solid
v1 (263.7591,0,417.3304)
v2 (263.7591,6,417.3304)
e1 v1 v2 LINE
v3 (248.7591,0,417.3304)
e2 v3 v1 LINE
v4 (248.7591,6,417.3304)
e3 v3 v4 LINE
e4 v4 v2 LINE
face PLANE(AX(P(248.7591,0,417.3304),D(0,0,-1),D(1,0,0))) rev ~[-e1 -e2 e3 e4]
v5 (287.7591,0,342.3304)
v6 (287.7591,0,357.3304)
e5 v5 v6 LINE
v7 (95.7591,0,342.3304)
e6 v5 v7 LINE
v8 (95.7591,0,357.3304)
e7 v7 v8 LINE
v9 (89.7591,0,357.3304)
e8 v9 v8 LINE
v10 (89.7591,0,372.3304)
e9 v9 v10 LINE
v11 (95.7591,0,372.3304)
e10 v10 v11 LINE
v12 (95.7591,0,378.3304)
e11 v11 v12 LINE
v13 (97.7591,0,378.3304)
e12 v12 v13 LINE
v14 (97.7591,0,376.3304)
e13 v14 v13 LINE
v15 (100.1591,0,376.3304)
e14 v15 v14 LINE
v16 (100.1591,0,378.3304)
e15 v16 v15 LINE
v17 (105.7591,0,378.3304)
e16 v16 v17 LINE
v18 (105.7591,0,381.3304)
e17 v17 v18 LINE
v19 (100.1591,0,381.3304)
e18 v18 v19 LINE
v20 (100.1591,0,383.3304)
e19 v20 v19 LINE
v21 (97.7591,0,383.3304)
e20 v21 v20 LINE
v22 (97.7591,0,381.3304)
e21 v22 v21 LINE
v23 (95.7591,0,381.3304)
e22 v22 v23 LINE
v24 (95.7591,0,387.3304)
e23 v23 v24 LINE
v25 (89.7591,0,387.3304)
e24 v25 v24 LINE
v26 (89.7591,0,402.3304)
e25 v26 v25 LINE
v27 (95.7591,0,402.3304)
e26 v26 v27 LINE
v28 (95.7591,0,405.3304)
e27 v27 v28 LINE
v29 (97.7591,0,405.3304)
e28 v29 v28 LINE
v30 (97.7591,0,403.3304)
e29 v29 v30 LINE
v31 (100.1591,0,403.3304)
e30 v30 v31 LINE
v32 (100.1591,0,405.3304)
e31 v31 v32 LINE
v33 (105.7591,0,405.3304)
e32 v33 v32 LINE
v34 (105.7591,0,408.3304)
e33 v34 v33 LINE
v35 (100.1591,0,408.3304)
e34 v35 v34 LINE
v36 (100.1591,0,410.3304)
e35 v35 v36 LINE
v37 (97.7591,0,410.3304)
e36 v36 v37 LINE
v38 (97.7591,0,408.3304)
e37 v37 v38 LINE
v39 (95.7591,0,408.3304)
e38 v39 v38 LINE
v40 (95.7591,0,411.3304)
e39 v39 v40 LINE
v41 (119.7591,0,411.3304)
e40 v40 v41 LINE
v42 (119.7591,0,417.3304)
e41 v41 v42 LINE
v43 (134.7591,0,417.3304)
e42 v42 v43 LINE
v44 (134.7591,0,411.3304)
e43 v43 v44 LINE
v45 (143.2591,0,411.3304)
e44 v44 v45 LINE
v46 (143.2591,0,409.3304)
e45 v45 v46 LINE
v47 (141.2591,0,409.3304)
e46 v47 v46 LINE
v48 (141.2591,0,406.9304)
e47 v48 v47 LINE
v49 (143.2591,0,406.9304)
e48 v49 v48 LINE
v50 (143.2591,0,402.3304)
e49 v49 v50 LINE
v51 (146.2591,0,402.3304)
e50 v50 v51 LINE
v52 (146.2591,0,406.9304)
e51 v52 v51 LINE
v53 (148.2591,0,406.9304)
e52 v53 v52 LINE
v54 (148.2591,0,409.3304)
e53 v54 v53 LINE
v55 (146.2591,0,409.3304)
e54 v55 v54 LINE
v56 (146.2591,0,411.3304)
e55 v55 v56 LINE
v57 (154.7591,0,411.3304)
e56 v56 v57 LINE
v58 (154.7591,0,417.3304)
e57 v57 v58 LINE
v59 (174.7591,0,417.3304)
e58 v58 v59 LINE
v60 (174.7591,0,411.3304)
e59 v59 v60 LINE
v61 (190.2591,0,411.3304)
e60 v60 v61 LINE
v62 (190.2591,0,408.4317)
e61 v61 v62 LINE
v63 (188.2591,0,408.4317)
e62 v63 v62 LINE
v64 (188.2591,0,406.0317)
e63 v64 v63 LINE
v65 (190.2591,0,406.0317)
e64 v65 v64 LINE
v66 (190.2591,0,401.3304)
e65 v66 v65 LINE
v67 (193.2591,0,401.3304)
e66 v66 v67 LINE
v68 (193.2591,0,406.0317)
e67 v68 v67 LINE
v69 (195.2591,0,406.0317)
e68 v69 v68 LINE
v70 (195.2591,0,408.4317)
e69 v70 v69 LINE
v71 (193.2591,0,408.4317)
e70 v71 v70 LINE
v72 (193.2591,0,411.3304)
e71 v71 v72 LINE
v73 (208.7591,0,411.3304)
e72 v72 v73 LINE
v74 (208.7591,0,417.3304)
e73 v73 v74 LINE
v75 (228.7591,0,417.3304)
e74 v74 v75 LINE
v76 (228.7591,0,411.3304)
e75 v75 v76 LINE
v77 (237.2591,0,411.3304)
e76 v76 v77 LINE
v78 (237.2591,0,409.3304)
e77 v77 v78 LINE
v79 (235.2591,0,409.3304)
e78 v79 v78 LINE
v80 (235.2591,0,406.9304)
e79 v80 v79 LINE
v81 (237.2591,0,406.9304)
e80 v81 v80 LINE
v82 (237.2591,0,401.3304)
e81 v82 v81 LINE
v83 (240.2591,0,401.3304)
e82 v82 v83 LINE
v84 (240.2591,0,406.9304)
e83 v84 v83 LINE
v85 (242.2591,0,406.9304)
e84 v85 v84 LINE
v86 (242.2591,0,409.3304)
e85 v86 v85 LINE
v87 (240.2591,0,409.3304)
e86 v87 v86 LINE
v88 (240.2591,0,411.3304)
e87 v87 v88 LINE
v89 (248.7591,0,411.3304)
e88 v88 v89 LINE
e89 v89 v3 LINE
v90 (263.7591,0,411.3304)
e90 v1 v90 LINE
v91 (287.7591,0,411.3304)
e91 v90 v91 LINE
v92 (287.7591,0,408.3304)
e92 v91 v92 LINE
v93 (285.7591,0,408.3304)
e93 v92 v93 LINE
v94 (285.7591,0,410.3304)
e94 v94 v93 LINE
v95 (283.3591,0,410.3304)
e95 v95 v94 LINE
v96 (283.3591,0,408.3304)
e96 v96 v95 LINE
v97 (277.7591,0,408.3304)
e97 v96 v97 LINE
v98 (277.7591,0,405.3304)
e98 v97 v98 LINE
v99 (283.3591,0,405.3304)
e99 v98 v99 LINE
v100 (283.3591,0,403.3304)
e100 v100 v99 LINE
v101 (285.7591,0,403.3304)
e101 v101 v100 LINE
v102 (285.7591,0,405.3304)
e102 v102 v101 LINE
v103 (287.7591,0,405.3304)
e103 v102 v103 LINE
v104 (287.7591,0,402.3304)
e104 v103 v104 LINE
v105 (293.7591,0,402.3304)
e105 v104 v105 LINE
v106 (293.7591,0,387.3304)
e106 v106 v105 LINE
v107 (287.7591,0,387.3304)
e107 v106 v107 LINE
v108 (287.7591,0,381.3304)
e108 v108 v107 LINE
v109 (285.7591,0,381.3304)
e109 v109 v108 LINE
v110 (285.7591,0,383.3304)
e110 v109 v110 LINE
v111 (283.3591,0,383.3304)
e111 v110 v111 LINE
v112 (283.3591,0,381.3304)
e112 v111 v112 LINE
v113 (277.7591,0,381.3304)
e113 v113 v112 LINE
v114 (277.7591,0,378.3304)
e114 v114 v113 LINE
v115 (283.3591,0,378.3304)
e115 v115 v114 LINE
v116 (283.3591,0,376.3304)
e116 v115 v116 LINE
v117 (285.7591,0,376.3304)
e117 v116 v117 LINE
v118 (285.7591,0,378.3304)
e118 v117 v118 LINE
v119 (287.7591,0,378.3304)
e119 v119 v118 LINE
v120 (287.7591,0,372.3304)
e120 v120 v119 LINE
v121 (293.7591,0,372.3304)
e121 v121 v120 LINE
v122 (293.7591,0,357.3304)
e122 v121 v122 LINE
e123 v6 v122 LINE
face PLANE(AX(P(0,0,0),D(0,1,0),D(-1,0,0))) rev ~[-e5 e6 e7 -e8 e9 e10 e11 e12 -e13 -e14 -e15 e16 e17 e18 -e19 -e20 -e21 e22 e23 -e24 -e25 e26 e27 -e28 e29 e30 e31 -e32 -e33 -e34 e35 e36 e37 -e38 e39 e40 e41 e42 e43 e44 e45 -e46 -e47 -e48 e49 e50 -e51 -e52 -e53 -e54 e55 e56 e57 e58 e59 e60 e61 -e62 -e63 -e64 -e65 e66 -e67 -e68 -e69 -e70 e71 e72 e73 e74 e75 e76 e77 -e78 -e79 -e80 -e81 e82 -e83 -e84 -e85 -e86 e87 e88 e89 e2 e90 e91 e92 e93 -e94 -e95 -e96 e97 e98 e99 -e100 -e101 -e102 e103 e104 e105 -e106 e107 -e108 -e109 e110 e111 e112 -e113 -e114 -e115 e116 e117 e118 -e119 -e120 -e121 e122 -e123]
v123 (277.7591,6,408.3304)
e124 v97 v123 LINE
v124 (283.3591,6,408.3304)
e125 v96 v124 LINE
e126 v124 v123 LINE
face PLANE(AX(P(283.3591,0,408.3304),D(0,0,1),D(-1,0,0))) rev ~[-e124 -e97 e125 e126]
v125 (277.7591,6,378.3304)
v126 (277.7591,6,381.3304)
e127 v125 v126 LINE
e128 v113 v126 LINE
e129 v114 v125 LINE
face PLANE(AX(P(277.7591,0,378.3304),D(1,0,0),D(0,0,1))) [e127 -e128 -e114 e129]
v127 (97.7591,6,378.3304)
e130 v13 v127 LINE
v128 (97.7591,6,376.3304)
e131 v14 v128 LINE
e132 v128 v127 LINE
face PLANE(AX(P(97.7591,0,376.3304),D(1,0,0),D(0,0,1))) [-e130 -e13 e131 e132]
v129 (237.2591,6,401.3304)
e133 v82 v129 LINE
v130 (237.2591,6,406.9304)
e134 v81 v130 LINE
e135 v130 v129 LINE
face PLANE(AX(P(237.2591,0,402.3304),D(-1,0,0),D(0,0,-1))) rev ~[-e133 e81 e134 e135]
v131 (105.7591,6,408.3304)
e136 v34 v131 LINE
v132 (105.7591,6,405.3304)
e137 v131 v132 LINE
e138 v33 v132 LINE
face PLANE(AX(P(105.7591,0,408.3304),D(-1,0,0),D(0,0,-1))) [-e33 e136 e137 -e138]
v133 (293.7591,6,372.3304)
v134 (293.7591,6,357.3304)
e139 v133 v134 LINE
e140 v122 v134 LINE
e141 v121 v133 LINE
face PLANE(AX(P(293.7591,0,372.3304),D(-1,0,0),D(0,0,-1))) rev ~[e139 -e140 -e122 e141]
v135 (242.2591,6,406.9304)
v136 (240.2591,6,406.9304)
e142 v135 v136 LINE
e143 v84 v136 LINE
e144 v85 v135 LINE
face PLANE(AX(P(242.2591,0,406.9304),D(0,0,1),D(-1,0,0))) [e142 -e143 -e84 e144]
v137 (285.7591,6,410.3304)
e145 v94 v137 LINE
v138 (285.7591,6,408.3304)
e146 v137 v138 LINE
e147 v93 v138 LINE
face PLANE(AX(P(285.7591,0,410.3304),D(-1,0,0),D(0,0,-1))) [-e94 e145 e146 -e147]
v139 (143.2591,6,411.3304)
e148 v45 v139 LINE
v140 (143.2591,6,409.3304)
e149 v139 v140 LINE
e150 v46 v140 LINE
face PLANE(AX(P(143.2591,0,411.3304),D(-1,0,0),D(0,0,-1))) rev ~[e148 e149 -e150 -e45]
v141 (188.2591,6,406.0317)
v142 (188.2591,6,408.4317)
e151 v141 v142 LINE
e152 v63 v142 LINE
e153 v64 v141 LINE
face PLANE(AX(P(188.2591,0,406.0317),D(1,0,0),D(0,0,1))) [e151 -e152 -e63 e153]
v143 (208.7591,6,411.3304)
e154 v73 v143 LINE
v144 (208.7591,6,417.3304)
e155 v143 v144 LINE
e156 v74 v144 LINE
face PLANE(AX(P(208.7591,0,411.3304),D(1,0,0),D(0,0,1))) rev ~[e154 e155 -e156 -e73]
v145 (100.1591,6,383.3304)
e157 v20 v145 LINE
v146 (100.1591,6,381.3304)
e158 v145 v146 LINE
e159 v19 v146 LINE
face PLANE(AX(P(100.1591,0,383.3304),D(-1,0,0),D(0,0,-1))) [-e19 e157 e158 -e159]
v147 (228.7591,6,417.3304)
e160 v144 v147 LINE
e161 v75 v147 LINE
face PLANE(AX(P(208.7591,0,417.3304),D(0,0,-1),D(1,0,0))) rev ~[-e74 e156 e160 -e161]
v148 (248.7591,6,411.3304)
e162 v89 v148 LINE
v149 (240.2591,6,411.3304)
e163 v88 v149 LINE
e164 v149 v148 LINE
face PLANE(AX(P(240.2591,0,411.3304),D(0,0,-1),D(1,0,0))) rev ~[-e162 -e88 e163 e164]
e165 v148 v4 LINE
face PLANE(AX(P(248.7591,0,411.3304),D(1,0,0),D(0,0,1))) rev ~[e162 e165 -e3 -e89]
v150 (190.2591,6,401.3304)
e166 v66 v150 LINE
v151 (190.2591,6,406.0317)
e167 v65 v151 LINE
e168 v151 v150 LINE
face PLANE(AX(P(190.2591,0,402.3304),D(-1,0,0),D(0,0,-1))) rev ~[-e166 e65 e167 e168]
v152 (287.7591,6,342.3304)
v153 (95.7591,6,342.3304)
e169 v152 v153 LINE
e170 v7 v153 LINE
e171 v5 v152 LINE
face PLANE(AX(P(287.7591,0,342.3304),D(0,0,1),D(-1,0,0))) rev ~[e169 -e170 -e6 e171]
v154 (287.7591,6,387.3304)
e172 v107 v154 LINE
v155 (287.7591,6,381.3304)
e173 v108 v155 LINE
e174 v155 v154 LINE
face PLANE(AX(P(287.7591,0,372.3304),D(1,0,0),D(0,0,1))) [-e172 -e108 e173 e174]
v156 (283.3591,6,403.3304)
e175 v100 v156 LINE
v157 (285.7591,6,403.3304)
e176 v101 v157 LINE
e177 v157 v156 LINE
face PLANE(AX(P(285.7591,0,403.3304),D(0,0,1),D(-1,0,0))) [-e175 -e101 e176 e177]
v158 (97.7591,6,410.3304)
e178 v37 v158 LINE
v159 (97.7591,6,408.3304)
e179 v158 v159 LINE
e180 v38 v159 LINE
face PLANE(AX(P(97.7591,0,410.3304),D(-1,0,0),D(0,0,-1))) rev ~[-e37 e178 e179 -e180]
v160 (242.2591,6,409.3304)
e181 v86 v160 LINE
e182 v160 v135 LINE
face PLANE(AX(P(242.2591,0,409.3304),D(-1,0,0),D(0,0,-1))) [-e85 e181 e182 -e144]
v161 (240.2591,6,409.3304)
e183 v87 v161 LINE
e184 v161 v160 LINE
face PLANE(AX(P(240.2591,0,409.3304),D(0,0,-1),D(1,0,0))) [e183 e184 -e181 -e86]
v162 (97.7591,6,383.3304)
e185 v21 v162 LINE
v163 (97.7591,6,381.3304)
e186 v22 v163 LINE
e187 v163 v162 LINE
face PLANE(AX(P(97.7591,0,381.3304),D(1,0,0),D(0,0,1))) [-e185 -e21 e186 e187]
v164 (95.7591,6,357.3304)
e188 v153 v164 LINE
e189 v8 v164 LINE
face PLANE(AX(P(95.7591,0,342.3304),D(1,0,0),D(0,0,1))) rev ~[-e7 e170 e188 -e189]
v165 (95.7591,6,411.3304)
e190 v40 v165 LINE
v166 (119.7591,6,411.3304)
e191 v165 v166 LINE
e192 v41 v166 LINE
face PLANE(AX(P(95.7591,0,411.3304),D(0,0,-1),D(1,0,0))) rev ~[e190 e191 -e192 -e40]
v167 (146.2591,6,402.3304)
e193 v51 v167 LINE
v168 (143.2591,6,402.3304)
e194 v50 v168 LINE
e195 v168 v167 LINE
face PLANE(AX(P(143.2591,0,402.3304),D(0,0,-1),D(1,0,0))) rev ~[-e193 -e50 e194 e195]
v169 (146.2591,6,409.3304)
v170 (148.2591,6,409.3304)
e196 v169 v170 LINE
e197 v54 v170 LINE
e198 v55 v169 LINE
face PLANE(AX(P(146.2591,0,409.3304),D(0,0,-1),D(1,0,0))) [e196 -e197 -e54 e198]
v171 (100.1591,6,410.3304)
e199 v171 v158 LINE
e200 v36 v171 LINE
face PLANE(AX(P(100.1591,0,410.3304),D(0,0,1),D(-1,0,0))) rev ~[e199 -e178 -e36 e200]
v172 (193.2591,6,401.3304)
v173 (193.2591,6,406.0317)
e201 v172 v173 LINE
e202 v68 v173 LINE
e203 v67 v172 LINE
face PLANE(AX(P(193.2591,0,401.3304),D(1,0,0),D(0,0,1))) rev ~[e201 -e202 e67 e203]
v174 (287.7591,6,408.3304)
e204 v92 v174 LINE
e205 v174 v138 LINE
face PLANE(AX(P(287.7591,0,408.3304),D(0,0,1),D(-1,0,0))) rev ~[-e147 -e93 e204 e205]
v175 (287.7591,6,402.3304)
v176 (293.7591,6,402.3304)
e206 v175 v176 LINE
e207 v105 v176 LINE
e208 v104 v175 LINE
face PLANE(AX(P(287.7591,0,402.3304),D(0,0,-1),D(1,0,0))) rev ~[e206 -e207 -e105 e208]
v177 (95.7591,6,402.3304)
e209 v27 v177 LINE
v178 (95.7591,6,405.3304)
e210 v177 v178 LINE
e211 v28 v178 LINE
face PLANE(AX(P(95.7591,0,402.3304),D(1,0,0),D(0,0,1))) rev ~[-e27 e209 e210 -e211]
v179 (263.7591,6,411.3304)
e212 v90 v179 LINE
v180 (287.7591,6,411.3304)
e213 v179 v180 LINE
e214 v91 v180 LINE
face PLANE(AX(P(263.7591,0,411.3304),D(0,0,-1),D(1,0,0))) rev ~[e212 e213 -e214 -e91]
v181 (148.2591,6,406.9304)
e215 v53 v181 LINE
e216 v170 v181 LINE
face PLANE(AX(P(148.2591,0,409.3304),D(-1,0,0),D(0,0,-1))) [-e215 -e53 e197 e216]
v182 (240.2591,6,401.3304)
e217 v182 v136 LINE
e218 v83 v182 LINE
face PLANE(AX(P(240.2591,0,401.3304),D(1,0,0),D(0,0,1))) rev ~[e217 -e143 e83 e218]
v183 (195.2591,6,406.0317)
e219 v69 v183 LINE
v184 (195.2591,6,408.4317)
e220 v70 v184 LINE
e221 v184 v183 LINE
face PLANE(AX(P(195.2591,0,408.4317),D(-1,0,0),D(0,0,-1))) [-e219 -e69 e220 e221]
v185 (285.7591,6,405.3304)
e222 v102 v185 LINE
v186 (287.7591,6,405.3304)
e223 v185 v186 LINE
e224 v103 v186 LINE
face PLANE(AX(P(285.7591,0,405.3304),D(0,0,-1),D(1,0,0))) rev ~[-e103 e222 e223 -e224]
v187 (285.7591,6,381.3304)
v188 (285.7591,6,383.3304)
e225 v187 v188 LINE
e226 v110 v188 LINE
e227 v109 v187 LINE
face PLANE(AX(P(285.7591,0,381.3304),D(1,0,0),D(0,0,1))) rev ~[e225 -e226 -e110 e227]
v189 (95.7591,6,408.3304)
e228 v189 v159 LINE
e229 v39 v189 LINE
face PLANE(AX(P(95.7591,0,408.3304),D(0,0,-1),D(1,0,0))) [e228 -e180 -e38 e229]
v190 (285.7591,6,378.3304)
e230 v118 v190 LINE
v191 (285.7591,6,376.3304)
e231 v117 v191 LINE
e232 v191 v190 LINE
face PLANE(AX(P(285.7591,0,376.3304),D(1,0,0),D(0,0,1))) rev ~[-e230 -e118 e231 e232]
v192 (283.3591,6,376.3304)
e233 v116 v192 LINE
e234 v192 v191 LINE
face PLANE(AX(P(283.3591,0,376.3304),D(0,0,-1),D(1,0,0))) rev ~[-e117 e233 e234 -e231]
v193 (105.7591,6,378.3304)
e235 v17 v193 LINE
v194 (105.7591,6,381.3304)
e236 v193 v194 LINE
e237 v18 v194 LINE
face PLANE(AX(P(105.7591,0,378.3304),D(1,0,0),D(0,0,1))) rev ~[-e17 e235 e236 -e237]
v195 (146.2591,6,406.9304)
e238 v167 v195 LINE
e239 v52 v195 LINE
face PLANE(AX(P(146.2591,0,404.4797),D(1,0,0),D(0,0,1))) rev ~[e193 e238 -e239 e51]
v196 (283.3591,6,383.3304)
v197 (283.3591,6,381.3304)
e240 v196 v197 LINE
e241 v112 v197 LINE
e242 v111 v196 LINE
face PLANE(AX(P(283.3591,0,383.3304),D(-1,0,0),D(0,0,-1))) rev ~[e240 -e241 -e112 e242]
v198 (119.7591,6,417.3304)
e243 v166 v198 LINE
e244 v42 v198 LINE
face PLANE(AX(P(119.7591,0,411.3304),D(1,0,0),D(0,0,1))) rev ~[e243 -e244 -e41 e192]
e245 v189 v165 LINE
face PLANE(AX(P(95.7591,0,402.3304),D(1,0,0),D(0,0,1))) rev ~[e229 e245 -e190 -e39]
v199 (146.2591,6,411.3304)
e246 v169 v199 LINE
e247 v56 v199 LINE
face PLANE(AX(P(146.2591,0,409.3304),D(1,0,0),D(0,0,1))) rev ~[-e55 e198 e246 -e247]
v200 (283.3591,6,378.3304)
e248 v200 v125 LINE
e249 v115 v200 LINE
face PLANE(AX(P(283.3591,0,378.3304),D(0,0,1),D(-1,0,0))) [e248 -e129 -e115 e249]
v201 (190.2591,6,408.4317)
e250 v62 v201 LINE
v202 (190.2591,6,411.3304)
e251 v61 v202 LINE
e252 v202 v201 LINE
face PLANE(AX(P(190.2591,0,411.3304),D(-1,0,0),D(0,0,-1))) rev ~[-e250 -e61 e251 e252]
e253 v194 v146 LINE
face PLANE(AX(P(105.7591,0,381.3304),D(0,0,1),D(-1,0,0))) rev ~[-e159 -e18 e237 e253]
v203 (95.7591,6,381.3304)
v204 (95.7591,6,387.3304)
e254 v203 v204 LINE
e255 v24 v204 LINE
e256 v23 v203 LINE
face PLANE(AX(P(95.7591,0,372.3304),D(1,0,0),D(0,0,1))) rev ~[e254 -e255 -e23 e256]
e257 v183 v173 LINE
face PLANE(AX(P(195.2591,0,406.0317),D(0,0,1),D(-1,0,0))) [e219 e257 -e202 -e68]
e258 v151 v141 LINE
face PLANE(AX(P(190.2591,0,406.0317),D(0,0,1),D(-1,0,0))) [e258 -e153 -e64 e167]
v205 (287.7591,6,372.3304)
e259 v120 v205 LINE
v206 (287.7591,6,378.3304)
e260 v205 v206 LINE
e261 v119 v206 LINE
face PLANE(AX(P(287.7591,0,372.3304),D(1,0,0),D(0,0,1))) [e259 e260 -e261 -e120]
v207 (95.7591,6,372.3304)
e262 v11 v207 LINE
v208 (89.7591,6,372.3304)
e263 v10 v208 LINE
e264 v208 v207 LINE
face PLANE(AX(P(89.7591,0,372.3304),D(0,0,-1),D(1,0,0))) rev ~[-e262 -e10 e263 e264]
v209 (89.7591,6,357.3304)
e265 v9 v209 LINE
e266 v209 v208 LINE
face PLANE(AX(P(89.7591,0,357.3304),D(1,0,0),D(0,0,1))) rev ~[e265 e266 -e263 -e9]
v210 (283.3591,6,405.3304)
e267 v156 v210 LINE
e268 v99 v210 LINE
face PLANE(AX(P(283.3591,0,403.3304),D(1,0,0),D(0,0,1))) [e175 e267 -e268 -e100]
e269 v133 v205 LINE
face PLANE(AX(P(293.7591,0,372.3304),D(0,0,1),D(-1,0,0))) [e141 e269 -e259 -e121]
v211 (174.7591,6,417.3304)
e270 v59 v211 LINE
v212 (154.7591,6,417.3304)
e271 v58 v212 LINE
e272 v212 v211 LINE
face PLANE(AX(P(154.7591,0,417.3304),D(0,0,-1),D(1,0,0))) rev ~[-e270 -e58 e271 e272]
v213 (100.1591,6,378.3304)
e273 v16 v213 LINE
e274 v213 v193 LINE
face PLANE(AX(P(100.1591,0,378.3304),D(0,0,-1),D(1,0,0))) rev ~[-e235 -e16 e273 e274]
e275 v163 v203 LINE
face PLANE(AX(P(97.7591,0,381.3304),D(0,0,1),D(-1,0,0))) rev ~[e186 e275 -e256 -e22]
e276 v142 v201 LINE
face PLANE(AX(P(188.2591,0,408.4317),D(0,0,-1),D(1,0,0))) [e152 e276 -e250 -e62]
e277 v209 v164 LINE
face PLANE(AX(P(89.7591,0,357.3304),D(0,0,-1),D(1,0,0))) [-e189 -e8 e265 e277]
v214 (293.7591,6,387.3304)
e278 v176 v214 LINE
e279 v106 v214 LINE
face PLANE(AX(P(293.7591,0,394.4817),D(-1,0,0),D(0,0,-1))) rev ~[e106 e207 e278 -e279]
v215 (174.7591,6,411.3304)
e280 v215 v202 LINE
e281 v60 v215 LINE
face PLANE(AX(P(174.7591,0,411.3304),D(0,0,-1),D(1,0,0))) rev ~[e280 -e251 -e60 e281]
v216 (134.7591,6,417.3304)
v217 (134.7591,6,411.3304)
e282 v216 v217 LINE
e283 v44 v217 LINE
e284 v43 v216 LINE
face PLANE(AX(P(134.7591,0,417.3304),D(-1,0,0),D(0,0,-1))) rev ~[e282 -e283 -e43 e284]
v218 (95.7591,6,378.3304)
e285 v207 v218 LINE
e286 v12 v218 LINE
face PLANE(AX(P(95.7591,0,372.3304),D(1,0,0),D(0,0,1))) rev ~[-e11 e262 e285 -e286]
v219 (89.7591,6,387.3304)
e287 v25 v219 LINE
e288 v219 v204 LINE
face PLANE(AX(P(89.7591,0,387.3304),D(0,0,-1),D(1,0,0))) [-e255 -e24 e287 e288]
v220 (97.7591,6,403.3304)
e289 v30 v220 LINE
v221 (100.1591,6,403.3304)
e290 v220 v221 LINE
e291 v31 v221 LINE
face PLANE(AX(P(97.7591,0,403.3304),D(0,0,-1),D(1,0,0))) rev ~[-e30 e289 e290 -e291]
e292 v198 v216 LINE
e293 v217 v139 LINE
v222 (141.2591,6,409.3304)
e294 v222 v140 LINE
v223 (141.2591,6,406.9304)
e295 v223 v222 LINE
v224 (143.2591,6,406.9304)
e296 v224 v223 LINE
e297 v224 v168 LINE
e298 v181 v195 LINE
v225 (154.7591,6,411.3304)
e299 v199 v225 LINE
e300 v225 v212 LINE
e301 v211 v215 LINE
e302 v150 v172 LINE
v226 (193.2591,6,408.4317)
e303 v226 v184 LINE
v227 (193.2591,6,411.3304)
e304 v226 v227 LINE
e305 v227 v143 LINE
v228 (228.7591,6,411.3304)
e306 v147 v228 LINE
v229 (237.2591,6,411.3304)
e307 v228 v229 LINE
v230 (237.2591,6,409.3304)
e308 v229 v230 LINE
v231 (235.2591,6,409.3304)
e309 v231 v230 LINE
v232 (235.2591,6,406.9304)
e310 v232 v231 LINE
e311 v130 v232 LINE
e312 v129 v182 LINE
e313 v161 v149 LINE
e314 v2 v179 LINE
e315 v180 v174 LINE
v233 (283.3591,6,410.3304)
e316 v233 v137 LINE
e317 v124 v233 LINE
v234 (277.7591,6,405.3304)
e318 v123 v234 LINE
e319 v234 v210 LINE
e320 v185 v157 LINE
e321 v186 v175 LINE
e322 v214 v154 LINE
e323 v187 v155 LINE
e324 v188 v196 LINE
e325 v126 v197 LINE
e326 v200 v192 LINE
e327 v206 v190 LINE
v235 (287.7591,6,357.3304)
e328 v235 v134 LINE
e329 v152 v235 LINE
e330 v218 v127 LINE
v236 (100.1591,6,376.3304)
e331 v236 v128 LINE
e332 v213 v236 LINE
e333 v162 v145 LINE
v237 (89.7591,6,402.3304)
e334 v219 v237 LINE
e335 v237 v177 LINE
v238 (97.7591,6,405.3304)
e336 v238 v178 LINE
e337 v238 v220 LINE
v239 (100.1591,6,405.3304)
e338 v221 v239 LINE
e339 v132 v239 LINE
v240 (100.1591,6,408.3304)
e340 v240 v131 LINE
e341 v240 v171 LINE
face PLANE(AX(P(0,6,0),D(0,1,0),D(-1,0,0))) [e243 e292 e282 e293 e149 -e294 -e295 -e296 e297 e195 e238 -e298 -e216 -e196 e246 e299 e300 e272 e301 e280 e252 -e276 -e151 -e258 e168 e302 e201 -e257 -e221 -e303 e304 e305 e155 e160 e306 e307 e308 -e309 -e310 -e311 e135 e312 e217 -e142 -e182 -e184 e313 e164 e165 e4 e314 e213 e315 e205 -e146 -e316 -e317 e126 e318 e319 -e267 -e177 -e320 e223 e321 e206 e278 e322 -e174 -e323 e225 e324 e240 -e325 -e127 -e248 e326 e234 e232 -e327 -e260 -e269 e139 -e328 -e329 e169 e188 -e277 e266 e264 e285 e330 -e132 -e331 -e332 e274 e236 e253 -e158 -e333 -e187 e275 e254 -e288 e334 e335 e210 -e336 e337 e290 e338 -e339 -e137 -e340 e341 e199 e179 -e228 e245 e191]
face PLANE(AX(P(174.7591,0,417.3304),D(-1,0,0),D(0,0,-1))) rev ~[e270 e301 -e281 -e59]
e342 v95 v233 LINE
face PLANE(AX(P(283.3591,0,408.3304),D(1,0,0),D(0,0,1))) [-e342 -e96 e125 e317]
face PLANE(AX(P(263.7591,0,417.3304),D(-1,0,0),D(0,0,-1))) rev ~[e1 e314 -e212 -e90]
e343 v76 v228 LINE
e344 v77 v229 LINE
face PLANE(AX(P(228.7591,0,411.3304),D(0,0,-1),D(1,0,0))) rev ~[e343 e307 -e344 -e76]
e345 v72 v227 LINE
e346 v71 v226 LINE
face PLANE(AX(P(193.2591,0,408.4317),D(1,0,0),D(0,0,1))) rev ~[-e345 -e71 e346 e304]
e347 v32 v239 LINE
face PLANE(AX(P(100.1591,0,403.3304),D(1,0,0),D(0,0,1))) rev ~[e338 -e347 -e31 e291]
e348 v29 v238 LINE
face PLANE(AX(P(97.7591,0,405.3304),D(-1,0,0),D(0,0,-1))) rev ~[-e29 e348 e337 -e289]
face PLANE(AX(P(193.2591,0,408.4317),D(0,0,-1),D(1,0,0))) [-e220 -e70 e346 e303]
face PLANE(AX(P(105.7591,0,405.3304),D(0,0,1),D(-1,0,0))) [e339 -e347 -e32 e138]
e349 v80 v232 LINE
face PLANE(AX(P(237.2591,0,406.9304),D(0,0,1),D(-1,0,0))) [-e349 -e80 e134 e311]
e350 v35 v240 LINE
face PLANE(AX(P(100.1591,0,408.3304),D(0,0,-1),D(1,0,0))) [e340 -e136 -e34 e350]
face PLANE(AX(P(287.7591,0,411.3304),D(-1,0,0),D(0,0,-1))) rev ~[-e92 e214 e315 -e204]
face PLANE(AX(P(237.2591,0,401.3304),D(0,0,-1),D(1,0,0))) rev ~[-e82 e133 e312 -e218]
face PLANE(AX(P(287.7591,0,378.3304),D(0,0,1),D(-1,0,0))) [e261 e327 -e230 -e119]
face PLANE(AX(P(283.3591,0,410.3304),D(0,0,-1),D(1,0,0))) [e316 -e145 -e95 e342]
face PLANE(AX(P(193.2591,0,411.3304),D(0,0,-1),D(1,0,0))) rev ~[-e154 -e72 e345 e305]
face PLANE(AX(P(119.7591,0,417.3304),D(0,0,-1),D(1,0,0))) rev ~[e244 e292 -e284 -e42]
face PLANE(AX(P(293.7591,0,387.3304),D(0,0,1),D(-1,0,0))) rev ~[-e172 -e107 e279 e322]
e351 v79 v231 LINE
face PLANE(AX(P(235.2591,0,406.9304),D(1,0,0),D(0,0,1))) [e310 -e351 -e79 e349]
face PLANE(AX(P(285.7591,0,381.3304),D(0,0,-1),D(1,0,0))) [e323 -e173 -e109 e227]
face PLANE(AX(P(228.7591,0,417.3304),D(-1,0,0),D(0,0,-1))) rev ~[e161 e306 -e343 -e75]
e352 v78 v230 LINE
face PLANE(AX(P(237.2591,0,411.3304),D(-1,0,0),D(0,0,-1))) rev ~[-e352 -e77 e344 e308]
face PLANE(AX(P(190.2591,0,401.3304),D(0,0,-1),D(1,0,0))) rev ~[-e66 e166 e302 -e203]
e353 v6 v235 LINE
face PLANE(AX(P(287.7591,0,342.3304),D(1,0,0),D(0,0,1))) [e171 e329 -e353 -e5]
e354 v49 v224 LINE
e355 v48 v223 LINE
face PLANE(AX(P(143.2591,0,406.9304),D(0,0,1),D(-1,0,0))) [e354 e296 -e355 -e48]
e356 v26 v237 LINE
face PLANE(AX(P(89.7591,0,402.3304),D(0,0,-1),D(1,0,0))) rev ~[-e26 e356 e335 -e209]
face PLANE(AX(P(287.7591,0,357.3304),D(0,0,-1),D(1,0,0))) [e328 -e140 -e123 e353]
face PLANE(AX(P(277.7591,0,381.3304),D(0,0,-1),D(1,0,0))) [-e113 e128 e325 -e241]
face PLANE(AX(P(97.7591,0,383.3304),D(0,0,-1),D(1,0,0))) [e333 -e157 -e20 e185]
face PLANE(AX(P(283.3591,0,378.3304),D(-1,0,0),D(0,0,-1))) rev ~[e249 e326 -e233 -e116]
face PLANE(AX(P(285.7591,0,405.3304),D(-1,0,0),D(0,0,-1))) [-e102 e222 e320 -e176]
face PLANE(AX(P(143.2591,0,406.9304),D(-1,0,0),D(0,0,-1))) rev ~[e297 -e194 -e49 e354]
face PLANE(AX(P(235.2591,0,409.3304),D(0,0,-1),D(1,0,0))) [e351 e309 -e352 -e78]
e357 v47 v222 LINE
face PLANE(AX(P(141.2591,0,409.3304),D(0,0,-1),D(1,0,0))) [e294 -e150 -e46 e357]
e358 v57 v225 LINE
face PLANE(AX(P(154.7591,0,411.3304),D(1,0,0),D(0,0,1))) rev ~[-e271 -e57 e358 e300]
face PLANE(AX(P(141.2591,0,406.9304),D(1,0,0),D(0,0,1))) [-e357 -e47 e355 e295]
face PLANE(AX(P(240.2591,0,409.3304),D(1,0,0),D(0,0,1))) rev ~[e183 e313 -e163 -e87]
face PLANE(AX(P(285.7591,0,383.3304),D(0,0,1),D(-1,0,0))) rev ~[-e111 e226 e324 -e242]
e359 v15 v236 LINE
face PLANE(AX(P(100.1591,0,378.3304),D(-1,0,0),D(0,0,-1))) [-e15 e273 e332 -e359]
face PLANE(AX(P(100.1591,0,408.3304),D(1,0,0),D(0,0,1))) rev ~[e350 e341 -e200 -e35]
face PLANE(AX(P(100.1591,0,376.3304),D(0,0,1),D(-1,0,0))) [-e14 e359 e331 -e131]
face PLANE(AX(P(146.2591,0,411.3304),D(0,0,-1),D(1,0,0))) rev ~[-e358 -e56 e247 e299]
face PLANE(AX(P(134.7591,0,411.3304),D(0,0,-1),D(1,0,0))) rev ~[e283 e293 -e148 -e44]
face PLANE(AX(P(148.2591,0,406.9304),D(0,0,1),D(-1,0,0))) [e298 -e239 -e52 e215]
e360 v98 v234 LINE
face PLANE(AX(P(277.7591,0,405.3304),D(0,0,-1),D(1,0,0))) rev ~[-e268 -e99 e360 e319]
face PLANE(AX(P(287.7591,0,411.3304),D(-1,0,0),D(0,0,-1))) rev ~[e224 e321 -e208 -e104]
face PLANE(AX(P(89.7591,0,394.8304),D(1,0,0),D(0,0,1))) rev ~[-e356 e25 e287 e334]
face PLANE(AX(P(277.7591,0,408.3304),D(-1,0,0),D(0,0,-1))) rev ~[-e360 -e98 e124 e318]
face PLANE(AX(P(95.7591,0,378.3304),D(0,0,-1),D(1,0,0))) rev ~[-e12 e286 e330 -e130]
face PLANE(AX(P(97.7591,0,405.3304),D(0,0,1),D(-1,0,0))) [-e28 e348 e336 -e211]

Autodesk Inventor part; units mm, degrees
ref_plane "YZ Plane" through (0, 0, 0) normal (1, 0, 0) x (0, 1, 0)
ref_plane "XZ Plane" through (0, 0, 0) normal (0, 1, 0) x (-1, 0, 0)
ref_plane "XY Plane" through (0, 0, 0) normal (0, 0, 1) x (1, 0, 0)
sketch "Эскиз1" plane through (0, 0, 0) normal (0, 1, 0) x (-1, 0, 0)
  line L0 (-293.7591, 342.3304) -> (-89.7591, 342.3304)
  line L1 (-89.7591, 342.3304) -> (-89.7591, 402.3304)
  line L2 (-89.7591, 402.3304) -> (-293.7591, 402.3304)
  line L3 (-293.7591, 402.3304) -> (-293.7591, 342.3304)
  line L4 (-293.7591, 387.3304) -> (-287.7591, 387.3304)
  line L5 (-287.7591, 387.3304) -> (-287.7591, 402.3304)
  line L6 (-287.7591, 402.3304) -> (-293.7591, 402.3304)
  line L7 (-293.7591, 402.3304) -> (-293.7591, 387.3304)
  line L8 (-287.7591, 387.3304) -> (-293.7591, 387.3304)
  line L9 (-293.7591, 387.3304) -> (-293.7591, 372.3304)
  line L10 (-293.7591, 372.3304) -> (-287.7591, 372.3304)
  line L11 (-287.7591, 372.3304) -> (-287.7591, 387.3304)
  line L12 (-293.7591, 372.3304) -> (-287.7591, 372.3304)
  line L13 (-287.7591, 372.3304) -> (-287.7591, 357.3304)
  line L14 (-287.7591, 357.3304) -> (-293.7591, 357.3304)
  line L15 (-293.7591, 357.3304) -> (-293.7591, 372.3304)
  line L16 (-287.7591, 357.3304) -> (-293.7591, 357.3304)
  line L17 (-293.7591, 357.3304) -> (-293.7591, 342.3304)
  line L18 (-293.7591, 342.3304) -> (-287.7591, 342.3304)
  line L19 (-287.7591, 342.3304) -> (-287.7591, 357.3304)
  line L20 (-95.7591, 402.3304) -> (-89.7591, 402.3304)
  line L21 (-89.7591, 402.3304) -> (-89.7591, 387.3304)
  line L22 (-89.7591, 387.3304) -> (-95.7591, 387.3304)
  line L23 (-95.7591, 387.3304) -> (-95.7591, 402.3304)
  line L24 (-95.7591, 387.3304) -> (-89.7591, 387.3304)
  line L25 (-89.7591, 387.3304) -> (-89.7591, 372.3304)
  line L26 (-89.7591, 372.3304) -> (-95.7591, 372.3304)
  line L27 (-95.7591, 372.3304) -> (-95.7591, 387.3304)
  line L28 (-95.7591, 372.3304) -> (-89.7591, 372.3304)
  line L29 (-89.7591, 372.3304) -> (-89.7591, 357.3304)
  line L30 (-89.7591, 357.3304) -> (-95.7591, 357.3304)
  line L31 (-95.7591, 357.3304) -> (-95.7591, 372.3304)
  line L32 (-95.7591, 357.3304) -> (-89.7591, 357.3304)
  line L33 (-89.7591, 357.3304) -> (-89.7591, 342.3304)
  line L34 (-89.7591, 342.3304) -> (-95.7591, 342.3304)
  line L35 (-95.7591, 342.3304) -> (-95.7591, 357.3304)
  line L36 (-119.7591, 396.3304) -> (-119.7591, 402.3304)
  line L37 (-89.7591, 390.8181) -> (-89.7591, 394.8304)
  line L38 (-119.7591, 396.3304) -> (-134.7591, 396.3304)
  line L39 (-134.7591, 396.3304) -> (-134.7591, 402.3304)
  line L40 (-134.7591, 402.3304) -> (-119.7591, 402.3304)
  line L41 (-134.7591, 396.3304) -> (-154.7591, 396.3304)
  line L42 (-154.7591, 396.3304) -> (-154.7591, 402.3304)
  line L43 (-154.7591, 402.3304) -> (-134.7591, 402.3304)
  line L44 (-134.7591, 402.3304) -> (-134.7591, 396.3304)
  line L45 (-191.7591, 402.3304) -> (-154.7591, 402.3304)
  line L46 (-154.7591, 402.3304) -> (-154.7591, 396.3304)
  line L47 (-119.7591, 396.3304) -> (-89.7591, 396.3304)
  line L48 (-89.7591, 396.3304) -> (-89.7591, 402.3304)
  line L49 (-89.7591, 402.3304) -> (-119.7591, 402.3304)
  line L50 (-119.7591, 402.3304) -> (-119.7591, 396.3304)
  line L51 (-154.7591, 396.3304) -> (-174.7591, 396.3304)
  line L52 (-174.7591, 396.3304) -> (-174.7591, 402.3304)
  line L53 (-174.7591, 402.3304) -> (-154.7591, 402.3304)
  line L54 (-154.7591, 402.3304) -> (-154.7591, 396.3304)
  line L55 (-293.7591, 394.4817) -> (-263.7591, 394.4817)
  line L56 (-263.7591, 394.4817) -> (-263.7591, 402.3304)
  line L57 (-263.7591, 402.3304) -> (-293.7591, 402.3304)
  line L58 (-293.7591, 402.3304) -> (-293.7591, 394.4817)
  line L59 (-263.7591, 394.4817) -> (-248.7591, 394.4817)
  line L60 (-248.7591, 394.4817) -> (-248.7591, 402.3304)
  line L61 (-248.7591, 402.3304) -> (-263.7591, 402.3304)
  line L62 (-263.7591, 402.3304) -> (-263.7591, 394.4817)
  line L63 (-248.7591, 394.4817) -> (-228.7591, 394.4817)
  line L64 (-228.7591, 394.4817) -> (-228.7591, 402.3304)
  line L65 (-228.7591, 402.3304) -> (-248.7591, 402.3304)
  line L66 (-248.7591, 402.3304) -> (-248.7591, 394.4817)
  line L67 (-228.7591, 394.4817) -> (-208.7591, 394.4817)
  line L68 (-208.7591, 394.4817) -> (-208.7591, 402.3304)
  line L69 (-208.7591, 402.3304) -> (-228.7591, 402.3304)
  line L70 (-228.7591, 402.3304) -> (-228.7591, 394.4817)
  line L71 (-174.7591, 396.3304) -> (-210.3193, 394.4817)
  line L72 (-263.7591, 402.3304) -> (-248.7591, 402.3304)
  line L73 (-248.7591, 402.3304) -> (-248.7591, 417.3304)
  line L74 (-248.7591, 417.3304) -> (-263.7591, 417.3304)
  line L75 (-263.7591, 417.3304) -> (-263.7591, 402.3304)
  line L76 (-228.7591, 402.3304) -> (-208.7591, 402.3304)
  line L77 (-208.7591, 402.3304) -> (-208.7591, 417.3304)
  line L78 (-208.7591, 417.3304) -> (-228.7591, 417.3304)
  line L79 (-228.7591, 417.3304) -> (-228.7591, 402.3304)
  line L80 (-174.7591, 402.3304) -> (-154.7591, 402.3304)
  line L81 (-154.7591, 402.3304) -> (-154.7591, 417.3304)
  line L82 (-154.7591, 417.3304) -> (-174.7591, 417.3304)
  line L83 (-174.7591, 417.3304) -> (-174.7591, 402.3304)
  line L84 (-134.7591, 402.3304) -> (-119.7591, 402.3304)
  line L85 (-119.7591, 402.3304) -> (-119.7591, 417.3304)
  line L86 (-119.7591, 417.3304) -> (-134.7591, 417.3304)
  line L87 (-134.7591, 417.3304) -> (-134.7591, 402.3304)
  line L88 (-95.7591, 402.3304) -> (-95.7591, 411.3304)
  line L89 (-95.7591, 411.3304) -> (-95.7591, 402.3304)
  line L90 (-95.7591, 411.3304) -> (-287.7591, 411.3304)
  line L91 (-287.7591, 411.3304) -> (-287.7591, 402.3304)
  line L92 (-240.2591, 411.3304) -> (-237.2591, 411.3304)
  line L93 (-237.2591, 411.3304) -> (-237.2591, 401.3304)
  line L94 (-237.2591, 401.3304) -> (-240.2591, 401.3304)
  line L95 (-240.2591, 401.3304) -> (-240.2591, 411.3304)
  line L96 (-235.2591, 409.3304) -> (-242.2591, 409.3304)
  line L97 (-242.2591, 409.3304) -> (-242.2591, 406.9304)
  line L98 (-242.2591, 406.9304) -> (-235.2591, 406.9304)
  line L99 (-235.2591, 406.9304) -> (-235.2591, 409.3304)
  line L100 (-190.2591, 411.3304) -> (-190.2591, 401.3304)
  line L101 (-190.2591, 401.3304) -> (-193.2591, 401.3304)
  line L102 (-193.2591, 401.3304) -> (-193.2591, 411.3304)
  line L103 (-188.2591, 408.4317) -> (-195.2591, 408.4317)
  line L104 (-195.2591, 408.4317) -> (-195.2591, 406.0317)
  line L105 (-195.2591, 406.0317) -> (-188.2591, 406.0317)
  line L106 (-188.2591, 406.0317) -> (-188.2591, 408.4317)
  line L107 (-143.2591, 411.3304) -> (-143.2591, 401.3304)
  line L108 (-143.2591, 401.3304) -> (-146.2591, 401.3304)
  line L109 (-146.2591, 401.3304) -> (-146.2591, 404.4797)
  line L110 (-141.2591, 409.3304) -> (-148.2591, 409.3304)
  line L111 (-148.2591, 409.3304) -> (-148.2591, 406.9304)
  line L112 (-148.2591, 406.9304) -> (-141.2591, 406.9304)
  line L113 (-141.2591, 406.9304) -> (-141.2591, 409.3304)
  line L114 (-146.2591, 401.3304) -> (-146.2591, 411.3304)
  point P0 (0, 0)
  point P1 (-290.7591, 402.3304)
  point P2 (-290.7591, 387.3304)
  point P3 (-340.6033, 461.9261)
  point P4 (-287.7591, 394.4817)
  point P5 (-89.7591, 396.3304)
  point P6 (-95.7591, 396.3304)
  point P7 (-208.7591, 402.3304)
  point P8 (-228.7591, 402.3304)
  point P9 (-248.7591, 402.3304)
  point P10 (-208.7591, 402.3304)
  point P11 (-208.7591, 394.5628)
  point P12 (-119.7591, 411.3304)
  point P13 (-134.7591, 411.3304)
  point P14 (-154.7591, 411.3304)
  point P15 (-174.7591, 411.3304)
  point P16 (-208.7591, 411.3304)
  point P17 (-228.7591, 411.3304)
  point P18 (-248.7591, 411.3304)
  point P19 (-263.7591, 411.3304)
  point P20 (-240.2591, 406.3304)
  point P21 (-238.7591, 406.9304)
  point P22 (-238.7591, 409.3304)
  point P23 (-278.7591, 402.3304)
  point P24 (-237.2591, 409.3304)
  point P25 (-237.2591, 406.9304)
  point P26 (-240.2591, 406.9304)
  point P27 (-240.2591, 409.3304)
  point P28 (-248.7591, 409.8304)
  point P29 (-193.2591, 406.3304)
  point P30 (-191.7591, 406.0317)
  point P31 (-191.7591, 408.4317)
  point P32 (-146.2591, 402.905)
  point P33 (-144.7591, 406.9304)
  point P34 (-144.7591, 409.3304)
  point P35 (-190.2591, 408.4317)
  point P36 (-190.2591, 406.0317)
  point P37 (-193.2591, 406.0317)
  point P38 (-193.2591, 408.4317)
  point P39 (-146.2591, 406.9304)
  point P40 (-146.2591, 409.3304)
  point P41 (-143.2591, 409.3304)
  point P42 (-143.2591, 406.9304)
  dimension "d0" = 204
  dimension "d1" = 60
  dimension "d2" = 6
  dimension "d3" = 15
  dimension "d4" = 15
  dimension "d5" = 6
  dimension "d6" = 6
  dimension "d8" = 15
  dimension "d9" = 20
  dimension "d11" = 30
  dimension "d12" = 20
  dimension "d23" = 20
  dimension "d24" = 20
  dimension "d25" = 15
  dimension "d26" = 30
  dimension "d29" = 15
  dimension "d30" = 15
  dimension "d31" = 15
  dimension "d32" = 15
  dimension "d33" = 7
  dimension "d34" = 3
  dimension "d35" = 2
  dimension "d36" = 2.4
  dimension "d37" = 10
  dimension "d38" = 9
  dimension "d39" = 8.5
  dimension "d40" = 7
  dimension "d41" = 3
  dimension "d42" = 2
  dimension "d43" = 2.4
  dimension "d44" = 10
  dimension "d45" = 7
  dimension "d46" = 3
  dimension "d47" = 2
  dimension "d48" = 2.4
  dimension "d49" = 10
  dimension "d50" = 2
  dimension "d51" = 2
  dimension "d52" = 15.5
  dimension "d53" = 15
  dimension "d54" = 20
  dimension "d55" = 20
  dimension "d56" = 15
  dimension "d57" = 28.5
extrude "Выдавливание1" add sketch "Эскиз1" along normal blind 6 contours L19 L13 L11 L5 L55 L59 L63 L67 L68 L71 L51 L41 L38 L47 L23 L27 L31 L35 L0 | L3 L10 L13 L14 | L31 L26 L1 L30 | L3 L55 L5 L4 | L3 L2 L5 L55 | L23 L47 L1 L22 | L5 L2 L56 L55 | L47 L36 L2 L23 | L23 L2 L1 L47 | L91 L90 L75 L2 | L56 L2 L60 L59 | L2 L85 L90 L88 | L38 L39 L2 L36 | L75 L90 L73 L2 | L60 L2 L95 L94 L93 L64 L63 | L2 L87 L90 L85 | L41 L42 L2 L109 L108 L107 L39 | L73 L90 L95 L96 L97 L98 L2 | L75 L74 L73 L90 | L64 L2 L68 L71 L67 | L2 L107 L112 L113 L110 L90 L87 | L90 L87 L86 L85 | L51 L52 L2 L42 | L79 L90 L77 L2 | L2 L93 L98 L99 L96 L90 L79 | L71 L68 L67 | L107 L108 L109 L2 | L81 L90 L114 L110 L111 L112 L109 L2 | L2 L83 L90 L81 | L71 L68 L2 L102 L101 L100 L52 | L77 L90 L102 L103 L104 L105 L2 | L79 L78 L77 L90 | L2 L100 L105 L106 L103 L90 L83 | L90 L83 L82 L81
sketch "Эскиз2" plane through (0, 0, 0) normal (0, -1, 0) x (1, 0, 0)
  line L0 (287.7591, 378.3304) -> (277.7591, 378.3304)
  line L1 (277.7591, 378.3304) -> (277.7591, 381.3304)
  line L2 (277.7591, 381.3304) -> (287.7591, 381.3304)
  line L3 (287.7591, 381.3304) -> (287.7591, 378.3304)
  line L4 (283.3591, 376.3304) -> (285.7591, 376.3304)
  line L5 (285.7591, 376.3304) -> (285.7591, 383.3304)
  line L6 (285.7591, 383.3304) -> (283.3591, 383.3304)
  line L7 (283.3591, 383.3304) -> (283.3591, 376.3304)
  line L8 (287.7591, 387.3304) -> (287.7591, 372.3304) projected
  line L9 (293.7591, 387.3304) -> (287.7591, 387.3304) projected
  line L10 (290.153, 393.3304) -> (255.2368, 393.3304) construction
  line L11 (287.7591, 342.3304) -> (95.7591, 342.3304) construction
  line L12 (191.7591, 342.3304) -> (191.7591, 378.3304) construction
  line L13 (287.7591, 408.3304) -> (277.7591, 408.3304)
  line L14 (277.7591, 408.3304) -> (277.7591, 405.3304)
  line L15 (277.7591, 405.3304) -> (287.7591, 405.3304)
  line L16 (287.7591, 405.3304) -> (287.7591, 408.3304)
  line L17 (283.3591, 410.3304) -> (285.7591, 410.3304)
  line L18 (285.7591, 410.3304) -> (285.7591, 403.3304)
  line L19 (285.7591, 403.3304) -> (283.3591, 403.3304)
  line L20 (283.3591, 403.3304) -> (283.3591, 410.3304)
  line L21 (287.7591, 399.3304) -> (287.7591, 414.3304)
  line L22 (293.7591, 399.3304) -> (287.7591, 399.3304)
  line L23 (95.7591, 378.3304) -> (105.7591, 378.3304)
  line L24 (105.7591, 378.3304) -> (105.7591, 381.3304)
  line L25 (105.7591, 381.3304) -> (95.7591, 381.3304)
  line L26 (95.7591, 381.3304) -> (95.7591, 378.3304)
  line L27 (100.1591, 376.3304) -> (97.7591, 376.3304)
  line L28 (97.7591, 376.3304) -> (97.7591, 383.3304)
  line L29 (97.7591, 383.3304) -> (100.1591, 383.3304)
  line L30 (100.1591, 383.3304) -> (100.1591, 376.3304)
  line L31 (95.7591, 408.3304) -> (105.7591, 408.3304)
  line L32 (105.7591, 408.3304) -> (105.7591, 405.3304)
  line L33 (105.7591, 405.3304) -> (95.7591, 405.3304)
  line L34 (95.7591, 405.3304) -> (95.7591, 408.3304)
  line L35 (97.7591, 410.3304) -> (97.7591, 403.3304)
  line L36 (97.7591, 403.3304) -> (100.1591, 403.3304)
  line L37 (100.1591, 403.3304) -> (100.1591, 410.3304)
  line L38 (100.1591, 410.3304) -> (97.7591, 410.3304)
  point P0 (0, 0)
  point P1 (95.7591, 387.3304)
  point P2 (95.7591, 399.3304)
  point P3 (283.3591, 381.3304)
  point P4 (283.3591, 378.3304)
  point P5 (285.7591, 378.3304)
  point P6 (285.7591, 381.3304)
  point P7 (283.3591, 408.3304)
  point P8 (283.3591, 405.3304)
  point P9 (285.7591, 405.3304)
  point P10 (285.7591, 408.3304)
  point P11 (97.7591, 408.3304)
  point P12 (97.7591, 405.3304)
  point P13 (100.1591, 405.3304)
  point P14 (100.1591, 408.3304)
  point P15 (100.1591, 378.3304)
  point P16 (100.1591, 381.3304)
  point P17 (97.7591, 381.3304)
  point P18 (97.7591, 378.3304)
  dimension "d58" = 10
  dimension "d59" = 3
  dimension "d60" = 7
  dimension "d61" = 2
  dimension "d62" = 2.4
  dimension "d63" = 2
  dimension "d64" = 6
  dimension "d65" = 12
extrude "Выдавливание2" cut sketch "Эскиз2" against normal blind 6
properties part number "задняя стенка"
